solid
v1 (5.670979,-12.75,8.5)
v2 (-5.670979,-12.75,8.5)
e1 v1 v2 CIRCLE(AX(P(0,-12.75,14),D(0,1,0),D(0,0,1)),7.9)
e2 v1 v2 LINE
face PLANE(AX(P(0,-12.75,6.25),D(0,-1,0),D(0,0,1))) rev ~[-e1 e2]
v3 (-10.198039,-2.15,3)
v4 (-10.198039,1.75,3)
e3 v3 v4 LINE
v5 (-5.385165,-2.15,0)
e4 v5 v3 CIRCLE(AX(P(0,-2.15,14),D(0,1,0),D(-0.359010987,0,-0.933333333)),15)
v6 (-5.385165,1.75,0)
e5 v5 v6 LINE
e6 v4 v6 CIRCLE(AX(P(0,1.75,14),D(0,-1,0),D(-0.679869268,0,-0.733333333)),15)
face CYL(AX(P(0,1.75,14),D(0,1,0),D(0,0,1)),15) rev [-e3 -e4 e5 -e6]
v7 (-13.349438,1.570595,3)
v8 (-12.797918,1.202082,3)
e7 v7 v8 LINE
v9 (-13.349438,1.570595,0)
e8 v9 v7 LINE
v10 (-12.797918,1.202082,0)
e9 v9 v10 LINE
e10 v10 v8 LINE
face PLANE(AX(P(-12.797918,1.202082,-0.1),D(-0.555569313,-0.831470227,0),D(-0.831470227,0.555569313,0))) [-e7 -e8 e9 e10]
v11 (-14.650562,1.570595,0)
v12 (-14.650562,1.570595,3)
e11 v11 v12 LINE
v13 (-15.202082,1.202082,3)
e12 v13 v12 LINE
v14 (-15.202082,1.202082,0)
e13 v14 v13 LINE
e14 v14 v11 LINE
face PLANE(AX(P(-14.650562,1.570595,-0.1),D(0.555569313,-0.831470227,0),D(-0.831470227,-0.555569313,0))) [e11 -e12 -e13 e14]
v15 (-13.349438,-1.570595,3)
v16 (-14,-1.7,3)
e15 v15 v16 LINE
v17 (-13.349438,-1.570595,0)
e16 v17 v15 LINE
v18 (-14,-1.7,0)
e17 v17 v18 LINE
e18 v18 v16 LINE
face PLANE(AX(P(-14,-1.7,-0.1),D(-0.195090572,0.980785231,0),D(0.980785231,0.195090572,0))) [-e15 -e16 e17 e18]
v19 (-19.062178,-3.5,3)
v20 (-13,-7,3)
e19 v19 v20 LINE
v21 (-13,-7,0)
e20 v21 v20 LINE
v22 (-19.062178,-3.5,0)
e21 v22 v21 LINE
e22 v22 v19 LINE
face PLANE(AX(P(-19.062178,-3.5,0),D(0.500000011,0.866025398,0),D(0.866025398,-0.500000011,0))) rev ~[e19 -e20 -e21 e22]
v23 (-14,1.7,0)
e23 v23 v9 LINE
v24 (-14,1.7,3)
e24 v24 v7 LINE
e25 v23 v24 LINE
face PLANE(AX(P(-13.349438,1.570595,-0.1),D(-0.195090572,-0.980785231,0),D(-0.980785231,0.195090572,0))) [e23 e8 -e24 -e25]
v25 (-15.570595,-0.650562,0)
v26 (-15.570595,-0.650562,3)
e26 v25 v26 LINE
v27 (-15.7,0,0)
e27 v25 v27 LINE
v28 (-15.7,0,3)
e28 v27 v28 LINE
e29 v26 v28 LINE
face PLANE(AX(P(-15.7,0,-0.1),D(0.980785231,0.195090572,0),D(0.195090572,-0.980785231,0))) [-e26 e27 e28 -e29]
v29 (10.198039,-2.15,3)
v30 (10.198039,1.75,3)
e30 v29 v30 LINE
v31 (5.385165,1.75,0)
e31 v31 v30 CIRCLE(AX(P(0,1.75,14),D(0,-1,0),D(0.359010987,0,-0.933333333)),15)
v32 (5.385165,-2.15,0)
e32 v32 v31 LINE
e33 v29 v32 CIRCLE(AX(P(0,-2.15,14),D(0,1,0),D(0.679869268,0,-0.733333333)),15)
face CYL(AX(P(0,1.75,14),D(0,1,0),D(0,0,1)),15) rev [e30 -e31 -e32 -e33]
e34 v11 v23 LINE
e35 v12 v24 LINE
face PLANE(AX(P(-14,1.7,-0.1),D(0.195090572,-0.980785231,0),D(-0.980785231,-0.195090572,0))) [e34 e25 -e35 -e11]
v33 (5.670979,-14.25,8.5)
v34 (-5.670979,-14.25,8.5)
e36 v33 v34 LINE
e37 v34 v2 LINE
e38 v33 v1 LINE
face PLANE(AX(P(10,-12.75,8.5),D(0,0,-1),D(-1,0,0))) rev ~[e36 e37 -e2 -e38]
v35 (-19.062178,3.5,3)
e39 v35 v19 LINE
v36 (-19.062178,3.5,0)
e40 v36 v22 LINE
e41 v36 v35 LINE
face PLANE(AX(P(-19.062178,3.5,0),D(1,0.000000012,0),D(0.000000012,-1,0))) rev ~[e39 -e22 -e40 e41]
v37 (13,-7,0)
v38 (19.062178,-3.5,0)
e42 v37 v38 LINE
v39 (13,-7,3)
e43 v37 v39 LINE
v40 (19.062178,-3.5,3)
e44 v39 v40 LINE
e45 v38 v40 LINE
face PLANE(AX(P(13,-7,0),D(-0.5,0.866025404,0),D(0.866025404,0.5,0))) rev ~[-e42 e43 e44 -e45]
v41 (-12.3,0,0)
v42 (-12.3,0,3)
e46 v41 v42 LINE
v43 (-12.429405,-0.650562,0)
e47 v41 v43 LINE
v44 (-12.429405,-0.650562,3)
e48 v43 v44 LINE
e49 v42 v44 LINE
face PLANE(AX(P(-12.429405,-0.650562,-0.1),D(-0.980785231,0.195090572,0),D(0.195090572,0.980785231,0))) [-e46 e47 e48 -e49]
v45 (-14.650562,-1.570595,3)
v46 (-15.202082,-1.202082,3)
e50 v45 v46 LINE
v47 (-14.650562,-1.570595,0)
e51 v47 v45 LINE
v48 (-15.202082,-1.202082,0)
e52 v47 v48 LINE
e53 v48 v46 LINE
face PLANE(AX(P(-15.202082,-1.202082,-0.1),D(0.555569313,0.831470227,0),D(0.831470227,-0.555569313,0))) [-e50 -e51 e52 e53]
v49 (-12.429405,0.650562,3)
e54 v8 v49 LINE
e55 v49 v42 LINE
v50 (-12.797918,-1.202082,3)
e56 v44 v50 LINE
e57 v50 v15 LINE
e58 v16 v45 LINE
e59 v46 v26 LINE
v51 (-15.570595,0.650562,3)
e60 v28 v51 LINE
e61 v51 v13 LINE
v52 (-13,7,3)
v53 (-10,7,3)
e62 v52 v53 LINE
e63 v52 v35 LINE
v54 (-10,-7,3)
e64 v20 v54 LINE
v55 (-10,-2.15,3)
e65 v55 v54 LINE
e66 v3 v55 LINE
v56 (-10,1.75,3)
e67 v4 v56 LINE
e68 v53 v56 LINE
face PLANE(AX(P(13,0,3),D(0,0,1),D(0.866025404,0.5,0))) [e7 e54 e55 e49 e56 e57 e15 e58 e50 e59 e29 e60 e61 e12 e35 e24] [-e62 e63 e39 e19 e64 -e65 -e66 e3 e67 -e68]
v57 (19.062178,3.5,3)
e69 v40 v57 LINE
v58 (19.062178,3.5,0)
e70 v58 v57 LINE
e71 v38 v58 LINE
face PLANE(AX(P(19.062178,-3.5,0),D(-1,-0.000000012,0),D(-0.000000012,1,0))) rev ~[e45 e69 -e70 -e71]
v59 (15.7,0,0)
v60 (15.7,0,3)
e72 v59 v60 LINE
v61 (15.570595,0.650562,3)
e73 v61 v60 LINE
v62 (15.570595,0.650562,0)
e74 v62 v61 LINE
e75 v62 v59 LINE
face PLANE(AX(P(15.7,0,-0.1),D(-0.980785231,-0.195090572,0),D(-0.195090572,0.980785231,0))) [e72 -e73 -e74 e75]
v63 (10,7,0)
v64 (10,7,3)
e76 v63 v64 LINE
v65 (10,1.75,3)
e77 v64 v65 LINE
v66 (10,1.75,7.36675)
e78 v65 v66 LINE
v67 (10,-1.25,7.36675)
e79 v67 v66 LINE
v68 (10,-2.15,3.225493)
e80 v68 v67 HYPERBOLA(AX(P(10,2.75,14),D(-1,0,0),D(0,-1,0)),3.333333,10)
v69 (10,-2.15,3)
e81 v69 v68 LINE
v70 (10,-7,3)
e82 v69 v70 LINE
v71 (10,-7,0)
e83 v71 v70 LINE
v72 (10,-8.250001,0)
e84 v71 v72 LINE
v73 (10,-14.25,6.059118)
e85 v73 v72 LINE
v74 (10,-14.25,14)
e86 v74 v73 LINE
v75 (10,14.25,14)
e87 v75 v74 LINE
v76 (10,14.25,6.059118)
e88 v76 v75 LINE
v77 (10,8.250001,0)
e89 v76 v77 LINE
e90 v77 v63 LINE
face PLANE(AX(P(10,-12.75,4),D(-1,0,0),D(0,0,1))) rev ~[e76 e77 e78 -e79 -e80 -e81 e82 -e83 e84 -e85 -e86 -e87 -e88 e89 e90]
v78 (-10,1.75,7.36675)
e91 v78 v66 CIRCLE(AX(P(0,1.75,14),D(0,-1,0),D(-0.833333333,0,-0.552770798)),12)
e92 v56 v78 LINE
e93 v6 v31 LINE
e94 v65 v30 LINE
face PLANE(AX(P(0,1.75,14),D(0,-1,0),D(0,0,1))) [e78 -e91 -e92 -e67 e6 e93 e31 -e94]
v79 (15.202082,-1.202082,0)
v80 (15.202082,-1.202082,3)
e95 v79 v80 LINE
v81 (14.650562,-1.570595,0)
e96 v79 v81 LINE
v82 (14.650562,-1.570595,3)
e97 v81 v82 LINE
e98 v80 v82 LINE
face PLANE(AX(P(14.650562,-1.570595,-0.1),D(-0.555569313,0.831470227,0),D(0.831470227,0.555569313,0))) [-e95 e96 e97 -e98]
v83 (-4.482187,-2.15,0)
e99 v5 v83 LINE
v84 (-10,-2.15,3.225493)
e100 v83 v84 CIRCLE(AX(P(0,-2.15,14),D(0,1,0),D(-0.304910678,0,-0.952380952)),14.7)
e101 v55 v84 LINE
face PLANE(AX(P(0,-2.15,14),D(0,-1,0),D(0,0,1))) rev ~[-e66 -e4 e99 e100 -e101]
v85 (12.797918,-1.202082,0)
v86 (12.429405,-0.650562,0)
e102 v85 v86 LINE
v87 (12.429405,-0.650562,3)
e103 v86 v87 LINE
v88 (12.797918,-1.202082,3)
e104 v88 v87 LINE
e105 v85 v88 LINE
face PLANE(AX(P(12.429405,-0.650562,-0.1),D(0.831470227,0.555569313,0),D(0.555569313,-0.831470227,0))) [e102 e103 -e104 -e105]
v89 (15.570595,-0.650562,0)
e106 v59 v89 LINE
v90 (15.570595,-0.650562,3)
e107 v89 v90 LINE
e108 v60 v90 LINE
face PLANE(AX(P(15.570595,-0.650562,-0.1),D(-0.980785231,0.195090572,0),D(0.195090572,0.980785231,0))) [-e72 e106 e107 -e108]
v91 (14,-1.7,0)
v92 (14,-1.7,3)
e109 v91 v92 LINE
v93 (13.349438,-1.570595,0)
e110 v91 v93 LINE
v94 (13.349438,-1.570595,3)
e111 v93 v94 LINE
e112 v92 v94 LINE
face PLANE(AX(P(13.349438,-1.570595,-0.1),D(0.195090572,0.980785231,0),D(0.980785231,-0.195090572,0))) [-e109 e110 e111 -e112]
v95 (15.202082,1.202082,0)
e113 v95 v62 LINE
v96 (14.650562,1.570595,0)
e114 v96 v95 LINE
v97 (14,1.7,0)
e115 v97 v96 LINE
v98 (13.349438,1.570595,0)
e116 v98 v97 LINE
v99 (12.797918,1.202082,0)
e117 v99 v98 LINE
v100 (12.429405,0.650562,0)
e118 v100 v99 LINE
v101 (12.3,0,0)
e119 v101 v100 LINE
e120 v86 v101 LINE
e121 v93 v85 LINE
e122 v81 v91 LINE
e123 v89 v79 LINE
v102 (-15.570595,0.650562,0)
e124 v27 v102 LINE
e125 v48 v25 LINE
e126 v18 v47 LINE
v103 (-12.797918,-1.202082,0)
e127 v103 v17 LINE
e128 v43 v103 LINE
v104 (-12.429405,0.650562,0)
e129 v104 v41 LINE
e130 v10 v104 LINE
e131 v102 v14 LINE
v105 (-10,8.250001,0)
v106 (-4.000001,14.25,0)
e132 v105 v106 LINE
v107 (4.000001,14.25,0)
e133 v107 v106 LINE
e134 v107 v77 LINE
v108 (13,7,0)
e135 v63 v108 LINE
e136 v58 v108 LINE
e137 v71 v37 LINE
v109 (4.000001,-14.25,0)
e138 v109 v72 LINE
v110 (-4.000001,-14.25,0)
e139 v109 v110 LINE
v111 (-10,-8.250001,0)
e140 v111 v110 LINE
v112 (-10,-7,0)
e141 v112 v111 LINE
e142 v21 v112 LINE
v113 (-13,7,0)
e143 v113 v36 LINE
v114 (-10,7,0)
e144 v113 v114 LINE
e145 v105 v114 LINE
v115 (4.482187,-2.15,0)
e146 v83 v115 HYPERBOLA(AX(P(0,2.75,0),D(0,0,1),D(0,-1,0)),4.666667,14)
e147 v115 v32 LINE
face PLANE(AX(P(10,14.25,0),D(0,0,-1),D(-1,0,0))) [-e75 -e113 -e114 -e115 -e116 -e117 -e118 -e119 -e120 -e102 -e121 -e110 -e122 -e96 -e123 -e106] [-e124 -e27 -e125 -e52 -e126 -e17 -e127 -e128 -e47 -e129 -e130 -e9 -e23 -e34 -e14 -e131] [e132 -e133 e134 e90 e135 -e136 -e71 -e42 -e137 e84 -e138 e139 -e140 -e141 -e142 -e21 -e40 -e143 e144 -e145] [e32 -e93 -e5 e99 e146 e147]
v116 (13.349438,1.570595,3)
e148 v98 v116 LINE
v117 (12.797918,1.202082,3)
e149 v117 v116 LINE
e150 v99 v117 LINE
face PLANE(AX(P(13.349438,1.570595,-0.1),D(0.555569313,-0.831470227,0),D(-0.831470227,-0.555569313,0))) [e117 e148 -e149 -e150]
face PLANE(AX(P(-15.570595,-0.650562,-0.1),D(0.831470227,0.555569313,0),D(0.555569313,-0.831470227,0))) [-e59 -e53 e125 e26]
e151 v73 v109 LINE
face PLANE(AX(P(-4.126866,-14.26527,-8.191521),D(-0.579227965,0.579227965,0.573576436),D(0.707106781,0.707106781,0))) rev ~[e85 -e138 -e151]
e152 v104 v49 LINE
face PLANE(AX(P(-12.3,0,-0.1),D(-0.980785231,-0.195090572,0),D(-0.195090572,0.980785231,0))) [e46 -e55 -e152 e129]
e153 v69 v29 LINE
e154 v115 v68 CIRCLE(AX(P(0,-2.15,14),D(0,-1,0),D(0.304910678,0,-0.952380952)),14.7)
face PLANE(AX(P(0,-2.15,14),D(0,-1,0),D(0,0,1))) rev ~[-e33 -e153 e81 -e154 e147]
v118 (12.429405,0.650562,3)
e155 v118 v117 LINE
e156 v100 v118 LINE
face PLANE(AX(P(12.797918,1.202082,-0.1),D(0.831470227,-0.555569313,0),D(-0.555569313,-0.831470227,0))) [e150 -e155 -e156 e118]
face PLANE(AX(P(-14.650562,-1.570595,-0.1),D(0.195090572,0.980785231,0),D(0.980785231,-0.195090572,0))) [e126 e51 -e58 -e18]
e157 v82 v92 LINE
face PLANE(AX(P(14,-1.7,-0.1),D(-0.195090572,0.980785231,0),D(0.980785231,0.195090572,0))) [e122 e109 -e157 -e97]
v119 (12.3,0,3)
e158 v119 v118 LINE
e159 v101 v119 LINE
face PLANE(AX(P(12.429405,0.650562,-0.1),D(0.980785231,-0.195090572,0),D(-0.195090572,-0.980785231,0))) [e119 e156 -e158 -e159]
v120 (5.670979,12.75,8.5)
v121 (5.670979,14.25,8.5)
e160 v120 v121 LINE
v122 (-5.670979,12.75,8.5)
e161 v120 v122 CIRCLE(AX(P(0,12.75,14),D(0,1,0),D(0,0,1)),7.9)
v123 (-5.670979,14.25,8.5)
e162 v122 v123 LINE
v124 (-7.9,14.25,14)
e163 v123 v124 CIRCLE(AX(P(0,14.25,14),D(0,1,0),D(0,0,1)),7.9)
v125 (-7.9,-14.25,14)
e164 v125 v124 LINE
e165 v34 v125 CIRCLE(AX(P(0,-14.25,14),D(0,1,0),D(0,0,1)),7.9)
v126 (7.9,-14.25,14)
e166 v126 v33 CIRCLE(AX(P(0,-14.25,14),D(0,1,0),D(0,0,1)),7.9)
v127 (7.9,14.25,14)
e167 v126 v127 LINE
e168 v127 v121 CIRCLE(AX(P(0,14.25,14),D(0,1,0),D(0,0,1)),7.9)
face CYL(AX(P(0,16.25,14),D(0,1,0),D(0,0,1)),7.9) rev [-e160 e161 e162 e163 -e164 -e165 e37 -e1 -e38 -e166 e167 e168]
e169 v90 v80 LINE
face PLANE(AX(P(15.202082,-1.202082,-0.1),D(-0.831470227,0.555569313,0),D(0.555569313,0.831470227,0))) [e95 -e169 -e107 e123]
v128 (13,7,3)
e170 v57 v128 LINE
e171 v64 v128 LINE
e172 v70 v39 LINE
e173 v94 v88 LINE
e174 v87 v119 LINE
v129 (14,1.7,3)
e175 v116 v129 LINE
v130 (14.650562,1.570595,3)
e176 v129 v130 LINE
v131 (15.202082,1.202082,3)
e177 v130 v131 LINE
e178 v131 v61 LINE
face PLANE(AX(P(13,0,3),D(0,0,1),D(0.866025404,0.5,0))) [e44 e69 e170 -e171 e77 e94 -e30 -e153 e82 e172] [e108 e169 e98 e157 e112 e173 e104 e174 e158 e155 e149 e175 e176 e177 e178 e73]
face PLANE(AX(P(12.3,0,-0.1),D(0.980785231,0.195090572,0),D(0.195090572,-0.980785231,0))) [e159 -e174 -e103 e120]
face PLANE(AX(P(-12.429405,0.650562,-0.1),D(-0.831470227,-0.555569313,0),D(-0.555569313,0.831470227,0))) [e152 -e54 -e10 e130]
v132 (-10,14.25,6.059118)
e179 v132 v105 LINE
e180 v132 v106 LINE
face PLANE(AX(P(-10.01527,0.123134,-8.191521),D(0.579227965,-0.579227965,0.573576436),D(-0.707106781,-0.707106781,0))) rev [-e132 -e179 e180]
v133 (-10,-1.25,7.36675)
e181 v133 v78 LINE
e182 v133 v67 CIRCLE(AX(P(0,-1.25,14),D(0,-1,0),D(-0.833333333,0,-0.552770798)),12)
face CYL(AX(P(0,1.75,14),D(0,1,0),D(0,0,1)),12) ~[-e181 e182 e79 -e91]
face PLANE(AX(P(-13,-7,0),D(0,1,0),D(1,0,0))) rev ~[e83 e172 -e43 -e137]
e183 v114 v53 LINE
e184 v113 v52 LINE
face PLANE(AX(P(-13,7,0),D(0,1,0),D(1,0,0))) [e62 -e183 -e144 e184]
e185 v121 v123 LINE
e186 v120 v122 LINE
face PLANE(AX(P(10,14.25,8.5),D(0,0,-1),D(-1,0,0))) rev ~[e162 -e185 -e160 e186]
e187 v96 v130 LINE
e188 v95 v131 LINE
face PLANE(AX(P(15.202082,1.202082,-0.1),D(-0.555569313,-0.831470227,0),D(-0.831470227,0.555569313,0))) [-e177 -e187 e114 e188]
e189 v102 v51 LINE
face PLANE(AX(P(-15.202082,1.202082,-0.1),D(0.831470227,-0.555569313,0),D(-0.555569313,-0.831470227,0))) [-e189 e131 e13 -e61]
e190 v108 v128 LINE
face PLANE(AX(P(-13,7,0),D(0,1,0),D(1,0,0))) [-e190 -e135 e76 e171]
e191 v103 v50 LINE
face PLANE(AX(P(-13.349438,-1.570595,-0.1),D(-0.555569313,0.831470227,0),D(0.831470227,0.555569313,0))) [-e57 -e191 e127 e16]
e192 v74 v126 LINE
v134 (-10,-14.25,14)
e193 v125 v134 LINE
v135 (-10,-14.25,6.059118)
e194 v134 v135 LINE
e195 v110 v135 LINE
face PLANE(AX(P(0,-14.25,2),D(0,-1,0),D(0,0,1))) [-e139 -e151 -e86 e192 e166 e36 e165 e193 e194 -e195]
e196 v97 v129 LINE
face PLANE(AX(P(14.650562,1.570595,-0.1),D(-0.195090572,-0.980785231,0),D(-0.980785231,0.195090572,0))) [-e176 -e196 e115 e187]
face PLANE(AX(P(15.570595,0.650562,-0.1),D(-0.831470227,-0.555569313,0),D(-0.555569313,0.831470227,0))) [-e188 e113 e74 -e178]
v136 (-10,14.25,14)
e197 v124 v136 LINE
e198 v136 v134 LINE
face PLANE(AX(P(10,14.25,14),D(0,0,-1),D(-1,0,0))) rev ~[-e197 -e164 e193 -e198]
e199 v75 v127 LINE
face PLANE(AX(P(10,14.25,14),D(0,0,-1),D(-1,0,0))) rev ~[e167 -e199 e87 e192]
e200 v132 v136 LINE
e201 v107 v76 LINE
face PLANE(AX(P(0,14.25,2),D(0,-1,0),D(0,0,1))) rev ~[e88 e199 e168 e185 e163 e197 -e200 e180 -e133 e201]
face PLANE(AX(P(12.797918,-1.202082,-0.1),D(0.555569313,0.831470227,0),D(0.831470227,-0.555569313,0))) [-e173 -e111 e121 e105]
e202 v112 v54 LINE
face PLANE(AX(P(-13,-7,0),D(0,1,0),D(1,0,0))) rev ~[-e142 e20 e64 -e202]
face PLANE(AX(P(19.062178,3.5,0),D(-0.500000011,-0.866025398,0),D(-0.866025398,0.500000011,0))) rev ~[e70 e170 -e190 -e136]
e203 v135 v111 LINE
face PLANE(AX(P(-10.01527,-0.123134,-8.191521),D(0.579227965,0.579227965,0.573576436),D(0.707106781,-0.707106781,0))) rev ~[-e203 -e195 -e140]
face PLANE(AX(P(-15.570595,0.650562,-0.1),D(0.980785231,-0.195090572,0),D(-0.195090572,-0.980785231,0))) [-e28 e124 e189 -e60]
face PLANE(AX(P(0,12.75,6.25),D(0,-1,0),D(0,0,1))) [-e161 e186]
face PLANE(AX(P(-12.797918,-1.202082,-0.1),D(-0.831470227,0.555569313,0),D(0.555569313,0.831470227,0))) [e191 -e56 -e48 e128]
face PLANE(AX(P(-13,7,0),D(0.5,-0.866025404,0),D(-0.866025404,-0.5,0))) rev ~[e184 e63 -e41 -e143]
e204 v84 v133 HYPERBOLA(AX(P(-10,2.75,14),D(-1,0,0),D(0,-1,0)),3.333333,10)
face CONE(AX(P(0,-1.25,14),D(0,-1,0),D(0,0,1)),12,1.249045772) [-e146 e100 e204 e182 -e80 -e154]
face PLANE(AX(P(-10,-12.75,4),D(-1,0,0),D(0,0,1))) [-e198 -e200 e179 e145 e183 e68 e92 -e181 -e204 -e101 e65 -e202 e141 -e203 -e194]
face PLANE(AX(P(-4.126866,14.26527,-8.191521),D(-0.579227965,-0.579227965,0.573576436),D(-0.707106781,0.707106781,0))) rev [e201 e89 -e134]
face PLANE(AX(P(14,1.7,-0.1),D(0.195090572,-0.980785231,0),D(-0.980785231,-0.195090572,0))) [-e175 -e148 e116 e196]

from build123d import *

# Parameters (mm, degrees)
CUBE006_W                    = 20
CUBE006_H                    = 10
CUBE006_DEPTH                = 20
CUBE006_ROLL_ANGLE           = 35
CUBE006_PLACEMENT_ANGLE      = -45
CUBE008_W                    = 20
CUBE008_H                    = 10
CUBE008_DEPTH                = 20
CUBE008_ROLL_ANGLE           = 35
CUBE008_PLACEMENT_ANGLE      = -45
CUBE007_W                    = 20
CUBE007_H                    = 10
CUBE007_DEPTH                = 20
CUBE007_ROLL_ANGLE           = 35
CUBE007_PLACEMENT_ANGLE      = 45
CUBE005_W                    = 20
CUBE005_H                    = 10
CUBE005_DEPTH                = 20
CUBE005_ROLL_ANGLE           = 35
CUBE005_PLACEMENT_ANGLE      = 45
CUBE003_W                    = 4.5
CUBE003_H                    = 20
CUBE003_DEPTH                = 1.5
CUBE004_W                    = 4.5
CUBE004_H                    = 20
CUBE004_DEPTH                = 1.5
CYLINDER005_R                = 12
CYLINDER005_DEPTH            = 5
CYLINDER004_R                = 15
CYLINDER004_DEPTH            = 3.9
CUBE002_W                    = 4
CUBE002_H                    = 20
CUBE002_DEPTH                = 28.5
CYLINDER003_R                = 7.9
CYLINDER003_DEPTH            = 32.5
CUBE001_W                    = 10
CUBE001_H                    = 20
CUBE001_DEPTH                = 28.5
MATRIX_UNION_PITCH_ANGLE     = -90
MATRIX_UNION_PLACEMENT_ANGLE = 90
PRISM003_DEPTH               = 10
CYLINDER001_R                = 12
CYLINDER001_DEPTH            = 5
CYLINDER_R                   = 15
CYLINDER_DEPTH               = 3.9
DIFFERENCE_PITCH_ANGLE       = -90
DIFFERENCE_PLACEMENT_ANGLE   = 90
PRISM002_DEPTH               = 10
PRISM_DEPTH                  = 3
PRISM_PLACEMENT_ANGLE        = 30
PRISM001_DEPTH               = 3
PRISM001_PLACEMENT_ANGLE     = 30
CUBE_W                       = 26
CUBE_H                       = 14
CUBE_DEPTH                   = 3


with BuildPart() as cube006:
    # cube006 → cube006 (new body)
    with BuildSketch(Plane.XY):
        with Locations((10, 5)):
            Rectangle(CUBE006_W, CUBE006_H)
    extrude(amount=CUBE006_DEPTH)


with BuildPart() as cube006_1:
    # cube006 roll: moved
    add(cube006.part.rotate(Axis((0, 0, 0), (1, 0, 0)), CUBE006_ROLL_ANGLE))


with BuildPart() as cube006_2:
    # cube006 placement: moved
    add(cube006_1.part.moved(Location((-15.80755, -5.915414, -13.927285))).rotate(Axis((-15.80755, -5.915414, -13.927285), (0, 0, 1)), CUBE006_PLACEMENT_ANGLE))


with BuildPart() as cube008:
    # cube008 → cube008 (new body)
    with BuildSketch(Plane.XY):
        with Locations((10, 5)):
            Rectangle(CUBE008_W, CUBE008_H)
    extrude(amount=CUBE008_DEPTH)


with BuildPart() as cube008_1:
    # cube008 roll: moved
    add(cube008.part.rotate(Axis((0, 0, 0), (1, 0, 0)), CUBE008_ROLL_ANGLE))


with BuildPart() as cube008_2:
    # cube008 placement: moved
    add(cube008_1.part.moved(Location((-15.80755, -5.915414, -13.927285))).rotate(Axis((-15.80755, -5.915414, -13.927285), (0, 0, 1)), CUBE008_PLACEMENT_ANGLE))


with BuildPart() as matrix_union001:
    # cube007 → cube007 (new body)
    with BuildSketch(Plane.XY):
        with Locations((10, 5)):
            Rectangle(CUBE007_W, CUBE007_H)
    extrude(amount=CUBE007_DEPTH)


with BuildPart() as matrix_union001_1:
    # cube007 roll: moved
    add(matrix_union001.part.rotate(Axis((0, 0, 0), (1, 0, 0)), CUBE007_ROLL_ANGLE))


with BuildPart() as matrix_union001_2:
    # cube007 placement: moved
    add(matrix_union001_1.part.moved(Location((1.665414, -20.05755, -13.927285))).rotate(Axis((1.665414, -20.05755, -13.927285), (0, 0, 1)), CUBE007_PLACEMENT_ANGLE))

    # Matrix_Union001: union cube008
    add(cube008_2.part)


with BuildPart() as mirrored_matrix_union001:
    # mirr_Matrix_Union001: instance of Matrix_Union001
    add(matrix_union001_2.part.mirror(Plane(origin=(0, 0, 0), x_dir=(1, 0, 0), z_dir=(0, 1, 0))))


with BuildPart() as union005:
    # cube005 → cube005 (new body)
    with BuildSketch(Plane.XY):
        with Locations((10, 5)):
            Rectangle(CUBE005_W, CUBE005_H)
    extrude(amount=CUBE005_DEPTH)


with BuildPart() as union005_1:
    # cube005 roll: moved
    add(union005.part.rotate(Axis((0, 0, 0), (1, 0, 0)), CUBE005_ROLL_ANGLE))


with BuildPart() as union005_2:
    # cube005 placement: moved
    add(union005_1.part.moved(Location((1.665414, -20.05755, -13.927285))).rotate(Axis((1.665414, -20.05755, -13.927285), (0, 0, 1)), CUBE005_PLACEMENT_ANGLE))

    # union005: union cube006, mirrored Matrix_Union001
    add(cube006_2.part)
    add(mirrored_matrix_union001.part)


with BuildPart() as cube003:
    # cube003 → cube003 (new body)
    with BuildSketch(Plane(origin=(-10, -10, 0), x_dir=(1, 0, 0), z_dir=(0, 0, 1))):
        with Locations((2.25, 10)):
            Rectangle(CUBE003_W, CUBE003_H)
    extrude(amount=CUBE003_DEPTH)


with BuildPart() as cube004:
    # cube004 → cube004 (new body)
    with BuildSketch(Plane(origin=(-10, -10, 27), x_dir=(1, 0, 0), z_dir=(0, 0, 1))):
        with Locations((2.25, 10)):
            Rectangle(CUBE004_W, CUBE004_H)
    extrude(amount=CUBE004_DEPTH)


with BuildPart() as cylinder006:
    # cylinder006 → cylinder006 (revolve)
    with BuildSketch(Plane(origin=(0, 0, 3), x_dir=(1, 0, 0), z_dir=(0, -1, 0))):
        Polygon((0, 0), (12, 0), (15, 1), (0, 1), align=None)
    revolve(axis=Axis((0, 0, 3), (0, 0, 1)))


with BuildPart() as union004:
    # cylinder005 → cylinder005 (new body)
    with BuildSketch(Plane.XY):
        Circle(CYLINDER005_R)
    extrude(amount=CYLINDER005_DEPTH)

    # union004: union cylinder006
    add(cylinder006.part)


with BuildPart() as difference003:
    # cylinder004 → cylinder004 (new body)
    with BuildSketch(Plane.XY):
        Circle(CYLINDER004_R)
    extrude(amount=CYLINDER004_DEPTH)

    # difference003: cut union004
    add(union004.part, mode=Mode.SUBTRACT)


with BuildPart() as difference003_1:
    # difference003 placement: moved
    add(difference003.part.moved(Location((0, 0, 12.5))))


with BuildPart() as cube002:
    # cube002 → cube002 (new body)
    with BuildSketch(Plane(origin=(-14, -10, 0), x_dir=(1, 0, 0), z_dir=(0, 0, 1))):
        with Locations((2, 10)):
            Rectangle(CUBE002_W, CUBE002_H)
    extrude(amount=CUBE002_DEPTH)


with BuildPart() as cylinder003:
    # cylinder003 → cylinder003 (new body)
    with BuildSketch(Plane.XY.offset(-2)):
        Circle(CYLINDER003_R)
    extrude(amount=CYLINDER003_DEPTH)


with BuildPart() as difference005:
    # cube001 → cube001 (new body)
    with BuildSketch(Plane(origin=(-10, -10, 0), x_dir=(1, 0, 0), z_dir=(0, 0, 1))):
        with Locations((5, 10)):
            Rectangle(CUBE001_W, CUBE001_H)
    extrude(amount=CUBE001_DEPTH)

    # difference002: cut cylinder003
    add(cylinder003.part, mode=Mode.SUBTRACT)

    # union003: union cube002
    add(cube002.part)

    # difference004: cut difference003
    add(difference003_1.part, mode=Mode.SUBTRACT)

    # Matrix_Union: union cube003, cube004
    add(cube003.part)
    add(cube004.part)


with BuildPart() as difference005_1:
    # Matrix_Union pitch: moved
    add(difference005.part.rotate(Axis((0, 0, 0), (0, 1, 0)), MATRIX_UNION_PITCH_ANGLE))


with BuildPart() as difference005_2:
    # Matrix_Union placement: moved
    add(difference005_1.part.moved(Location((0, 14.25, 14))).rotate(Axis((0, 14.25, 14), (0, 0, 1)), MATRIX_UNION_PLACEMENT_ANGLE))

    # difference005: cut union005
    add(union005_2.part, mode=Mode.SUBTRACT)


with BuildPart() as prism003:
    # prism003 → prism003 (new body)
    with BuildSketch(Plane(origin=(14, 0, -0.1), x_dir=(1, 0, 0), z_dir=(0, 0, 1))):
        Polygon((1.7, 0), (1.570595, 0.650562), (1.202082, 1.202082), (0.650562, 1.570595), (0, 1.7), (-0.650562, 1.570595), (-1.202082, 1.202082), (-1.570595, 0.650562), (-1.7, 0), (-1.570595, -0.650562), (-1.202082, -1.202082), (-0.650562, -1.570595), (0, -1.7), (0.650562, -1.570595), (1.202082, -1.202082), (1.570595, -0.650562), align=None)
    extrude(amount=PRISM003_DEPTH)


with BuildPart() as cylinder002:
    # cylinder002 → cylinder002 (revolve)
    with BuildSketch(Plane(origin=(0, 0, 3), x_dir=(1, 0, 0), z_dir=(0, -1, 0))):
        Polygon((0, 0), (12, 0), (15, 1), (0, 1), align=None)
    revolve(axis=Axis((0, 0, 3), (0, 0, 1)))


with BuildPart() as union001:
    # cylinder001 → cylinder001 (new body)
    with BuildSketch(Plane.XY):
        Circle(CYLINDER001_R)
    extrude(amount=CYLINDER001_DEPTH)

    # union001: union cylinder002
    add(cylinder002.part)


with BuildPart() as difference:
    # cylinder → cylinder (new body)
    with BuildSketch(Plane.XY):
        Circle(CYLINDER_R)
    extrude(amount=CYLINDER_DEPTH)

    # difference: cut union001
    add(union001.part, mode=Mode.SUBTRACT)


with BuildPart() as difference_1:
    # difference pitch: moved
    add(difference.part.rotate(Axis((0, 0, 0), (0, 1, 0)), DIFFERENCE_PITCH_ANGLE))


with BuildPart() as difference_2:
    # difference placement: moved
    add(difference_1.part.moved(Location((0, 1.75, 14))).rotate(Axis((0, 1.75, 14), (0, 0, 1)), DIFFERENCE_PLACEMENT_ANGLE))


with BuildPart() as union002:
    # prism002 → prism002 (new body)
    with BuildSketch(Plane(origin=(-14, 0, -0.1), x_dir=(1, 0, 0), z_dir=(0, 0, 1))):
        Polygon((1.7, 0), (1.570595, 0.650562), (1.202082, 1.202082), (0.650562, 1.570595), (0, 1.7), (-0.650562, 1.570595), (-1.202082, 1.202082), (-1.570595, 0.650562), (-1.7, 0), (-1.570595, -0.650562), (-1.202082, -1.202082), (-0.650562, -1.570595), (0, -1.7), (0.650562, -1.570595), (1.202082, -1.202082), (1.570595, -0.650562), align=None)
    extrude(amount=PRISM002_DEPTH)

    # union002: union prism003, difference
    add(prism003.part)
    add(difference_2.part)


with BuildPart() as prism:
    # prism → prism (new body)
    with BuildSketch(Plane.XY):
        Polygon((7, 0), (3.5, 6.062178), (-3.5, 6.062178), (-7, 0), (-3.5, -6.062178), (3.5, -6.062178), align=None)
    extrude(amount=PRISM_DEPTH)


with BuildPart() as prism_1:
    # prism placement: moved
    add(prism.part.moved(Location((-13, 0, 0))).rotate(Axis((-13, 0, 0), (0, 0, 1)), PRISM_PLACEMENT_ANGLE))


with BuildPart() as prism001:
    # prism001 → prism001 (new body)
    with BuildSketch(Plane.XY):
        Polygon((7, 0), (3.5, 6.062178), (-3.5, 6.062178), (-7, 0), (-3.5, -6.062178), (3.5, -6.062178), align=None)
    extrude(amount=PRISM001_DEPTH)


with BuildPart() as prism001_1:
    # prism001 placement: moved
    add(prism001.part.moved(Location((13, 0, 0))).rotate(Axis((13, 0, 0), (0, 0, 1)), PRISM001_PLACEMENT_ANGLE))


with BuildPart() as group:
    # cube → cube (new body)
    with BuildSketch(Plane(origin=(-13, -7, 0), x_dir=(1, 0, 0), z_dir=(0, 0, 1))):
        with Locations((13, 7)):
            Rectangle(CUBE_W, CUBE_H)
    extrude(amount=CUBE_DEPTH)

    # union: union prism, prism001
    add(prism_1.part)
    add(prism001_1.part)

    # difference001: cut union002
    add(union002.part, mode=Mode.SUBTRACT)

    # Group: union difference005
    add(difference005_2.part)


solid = group.part
